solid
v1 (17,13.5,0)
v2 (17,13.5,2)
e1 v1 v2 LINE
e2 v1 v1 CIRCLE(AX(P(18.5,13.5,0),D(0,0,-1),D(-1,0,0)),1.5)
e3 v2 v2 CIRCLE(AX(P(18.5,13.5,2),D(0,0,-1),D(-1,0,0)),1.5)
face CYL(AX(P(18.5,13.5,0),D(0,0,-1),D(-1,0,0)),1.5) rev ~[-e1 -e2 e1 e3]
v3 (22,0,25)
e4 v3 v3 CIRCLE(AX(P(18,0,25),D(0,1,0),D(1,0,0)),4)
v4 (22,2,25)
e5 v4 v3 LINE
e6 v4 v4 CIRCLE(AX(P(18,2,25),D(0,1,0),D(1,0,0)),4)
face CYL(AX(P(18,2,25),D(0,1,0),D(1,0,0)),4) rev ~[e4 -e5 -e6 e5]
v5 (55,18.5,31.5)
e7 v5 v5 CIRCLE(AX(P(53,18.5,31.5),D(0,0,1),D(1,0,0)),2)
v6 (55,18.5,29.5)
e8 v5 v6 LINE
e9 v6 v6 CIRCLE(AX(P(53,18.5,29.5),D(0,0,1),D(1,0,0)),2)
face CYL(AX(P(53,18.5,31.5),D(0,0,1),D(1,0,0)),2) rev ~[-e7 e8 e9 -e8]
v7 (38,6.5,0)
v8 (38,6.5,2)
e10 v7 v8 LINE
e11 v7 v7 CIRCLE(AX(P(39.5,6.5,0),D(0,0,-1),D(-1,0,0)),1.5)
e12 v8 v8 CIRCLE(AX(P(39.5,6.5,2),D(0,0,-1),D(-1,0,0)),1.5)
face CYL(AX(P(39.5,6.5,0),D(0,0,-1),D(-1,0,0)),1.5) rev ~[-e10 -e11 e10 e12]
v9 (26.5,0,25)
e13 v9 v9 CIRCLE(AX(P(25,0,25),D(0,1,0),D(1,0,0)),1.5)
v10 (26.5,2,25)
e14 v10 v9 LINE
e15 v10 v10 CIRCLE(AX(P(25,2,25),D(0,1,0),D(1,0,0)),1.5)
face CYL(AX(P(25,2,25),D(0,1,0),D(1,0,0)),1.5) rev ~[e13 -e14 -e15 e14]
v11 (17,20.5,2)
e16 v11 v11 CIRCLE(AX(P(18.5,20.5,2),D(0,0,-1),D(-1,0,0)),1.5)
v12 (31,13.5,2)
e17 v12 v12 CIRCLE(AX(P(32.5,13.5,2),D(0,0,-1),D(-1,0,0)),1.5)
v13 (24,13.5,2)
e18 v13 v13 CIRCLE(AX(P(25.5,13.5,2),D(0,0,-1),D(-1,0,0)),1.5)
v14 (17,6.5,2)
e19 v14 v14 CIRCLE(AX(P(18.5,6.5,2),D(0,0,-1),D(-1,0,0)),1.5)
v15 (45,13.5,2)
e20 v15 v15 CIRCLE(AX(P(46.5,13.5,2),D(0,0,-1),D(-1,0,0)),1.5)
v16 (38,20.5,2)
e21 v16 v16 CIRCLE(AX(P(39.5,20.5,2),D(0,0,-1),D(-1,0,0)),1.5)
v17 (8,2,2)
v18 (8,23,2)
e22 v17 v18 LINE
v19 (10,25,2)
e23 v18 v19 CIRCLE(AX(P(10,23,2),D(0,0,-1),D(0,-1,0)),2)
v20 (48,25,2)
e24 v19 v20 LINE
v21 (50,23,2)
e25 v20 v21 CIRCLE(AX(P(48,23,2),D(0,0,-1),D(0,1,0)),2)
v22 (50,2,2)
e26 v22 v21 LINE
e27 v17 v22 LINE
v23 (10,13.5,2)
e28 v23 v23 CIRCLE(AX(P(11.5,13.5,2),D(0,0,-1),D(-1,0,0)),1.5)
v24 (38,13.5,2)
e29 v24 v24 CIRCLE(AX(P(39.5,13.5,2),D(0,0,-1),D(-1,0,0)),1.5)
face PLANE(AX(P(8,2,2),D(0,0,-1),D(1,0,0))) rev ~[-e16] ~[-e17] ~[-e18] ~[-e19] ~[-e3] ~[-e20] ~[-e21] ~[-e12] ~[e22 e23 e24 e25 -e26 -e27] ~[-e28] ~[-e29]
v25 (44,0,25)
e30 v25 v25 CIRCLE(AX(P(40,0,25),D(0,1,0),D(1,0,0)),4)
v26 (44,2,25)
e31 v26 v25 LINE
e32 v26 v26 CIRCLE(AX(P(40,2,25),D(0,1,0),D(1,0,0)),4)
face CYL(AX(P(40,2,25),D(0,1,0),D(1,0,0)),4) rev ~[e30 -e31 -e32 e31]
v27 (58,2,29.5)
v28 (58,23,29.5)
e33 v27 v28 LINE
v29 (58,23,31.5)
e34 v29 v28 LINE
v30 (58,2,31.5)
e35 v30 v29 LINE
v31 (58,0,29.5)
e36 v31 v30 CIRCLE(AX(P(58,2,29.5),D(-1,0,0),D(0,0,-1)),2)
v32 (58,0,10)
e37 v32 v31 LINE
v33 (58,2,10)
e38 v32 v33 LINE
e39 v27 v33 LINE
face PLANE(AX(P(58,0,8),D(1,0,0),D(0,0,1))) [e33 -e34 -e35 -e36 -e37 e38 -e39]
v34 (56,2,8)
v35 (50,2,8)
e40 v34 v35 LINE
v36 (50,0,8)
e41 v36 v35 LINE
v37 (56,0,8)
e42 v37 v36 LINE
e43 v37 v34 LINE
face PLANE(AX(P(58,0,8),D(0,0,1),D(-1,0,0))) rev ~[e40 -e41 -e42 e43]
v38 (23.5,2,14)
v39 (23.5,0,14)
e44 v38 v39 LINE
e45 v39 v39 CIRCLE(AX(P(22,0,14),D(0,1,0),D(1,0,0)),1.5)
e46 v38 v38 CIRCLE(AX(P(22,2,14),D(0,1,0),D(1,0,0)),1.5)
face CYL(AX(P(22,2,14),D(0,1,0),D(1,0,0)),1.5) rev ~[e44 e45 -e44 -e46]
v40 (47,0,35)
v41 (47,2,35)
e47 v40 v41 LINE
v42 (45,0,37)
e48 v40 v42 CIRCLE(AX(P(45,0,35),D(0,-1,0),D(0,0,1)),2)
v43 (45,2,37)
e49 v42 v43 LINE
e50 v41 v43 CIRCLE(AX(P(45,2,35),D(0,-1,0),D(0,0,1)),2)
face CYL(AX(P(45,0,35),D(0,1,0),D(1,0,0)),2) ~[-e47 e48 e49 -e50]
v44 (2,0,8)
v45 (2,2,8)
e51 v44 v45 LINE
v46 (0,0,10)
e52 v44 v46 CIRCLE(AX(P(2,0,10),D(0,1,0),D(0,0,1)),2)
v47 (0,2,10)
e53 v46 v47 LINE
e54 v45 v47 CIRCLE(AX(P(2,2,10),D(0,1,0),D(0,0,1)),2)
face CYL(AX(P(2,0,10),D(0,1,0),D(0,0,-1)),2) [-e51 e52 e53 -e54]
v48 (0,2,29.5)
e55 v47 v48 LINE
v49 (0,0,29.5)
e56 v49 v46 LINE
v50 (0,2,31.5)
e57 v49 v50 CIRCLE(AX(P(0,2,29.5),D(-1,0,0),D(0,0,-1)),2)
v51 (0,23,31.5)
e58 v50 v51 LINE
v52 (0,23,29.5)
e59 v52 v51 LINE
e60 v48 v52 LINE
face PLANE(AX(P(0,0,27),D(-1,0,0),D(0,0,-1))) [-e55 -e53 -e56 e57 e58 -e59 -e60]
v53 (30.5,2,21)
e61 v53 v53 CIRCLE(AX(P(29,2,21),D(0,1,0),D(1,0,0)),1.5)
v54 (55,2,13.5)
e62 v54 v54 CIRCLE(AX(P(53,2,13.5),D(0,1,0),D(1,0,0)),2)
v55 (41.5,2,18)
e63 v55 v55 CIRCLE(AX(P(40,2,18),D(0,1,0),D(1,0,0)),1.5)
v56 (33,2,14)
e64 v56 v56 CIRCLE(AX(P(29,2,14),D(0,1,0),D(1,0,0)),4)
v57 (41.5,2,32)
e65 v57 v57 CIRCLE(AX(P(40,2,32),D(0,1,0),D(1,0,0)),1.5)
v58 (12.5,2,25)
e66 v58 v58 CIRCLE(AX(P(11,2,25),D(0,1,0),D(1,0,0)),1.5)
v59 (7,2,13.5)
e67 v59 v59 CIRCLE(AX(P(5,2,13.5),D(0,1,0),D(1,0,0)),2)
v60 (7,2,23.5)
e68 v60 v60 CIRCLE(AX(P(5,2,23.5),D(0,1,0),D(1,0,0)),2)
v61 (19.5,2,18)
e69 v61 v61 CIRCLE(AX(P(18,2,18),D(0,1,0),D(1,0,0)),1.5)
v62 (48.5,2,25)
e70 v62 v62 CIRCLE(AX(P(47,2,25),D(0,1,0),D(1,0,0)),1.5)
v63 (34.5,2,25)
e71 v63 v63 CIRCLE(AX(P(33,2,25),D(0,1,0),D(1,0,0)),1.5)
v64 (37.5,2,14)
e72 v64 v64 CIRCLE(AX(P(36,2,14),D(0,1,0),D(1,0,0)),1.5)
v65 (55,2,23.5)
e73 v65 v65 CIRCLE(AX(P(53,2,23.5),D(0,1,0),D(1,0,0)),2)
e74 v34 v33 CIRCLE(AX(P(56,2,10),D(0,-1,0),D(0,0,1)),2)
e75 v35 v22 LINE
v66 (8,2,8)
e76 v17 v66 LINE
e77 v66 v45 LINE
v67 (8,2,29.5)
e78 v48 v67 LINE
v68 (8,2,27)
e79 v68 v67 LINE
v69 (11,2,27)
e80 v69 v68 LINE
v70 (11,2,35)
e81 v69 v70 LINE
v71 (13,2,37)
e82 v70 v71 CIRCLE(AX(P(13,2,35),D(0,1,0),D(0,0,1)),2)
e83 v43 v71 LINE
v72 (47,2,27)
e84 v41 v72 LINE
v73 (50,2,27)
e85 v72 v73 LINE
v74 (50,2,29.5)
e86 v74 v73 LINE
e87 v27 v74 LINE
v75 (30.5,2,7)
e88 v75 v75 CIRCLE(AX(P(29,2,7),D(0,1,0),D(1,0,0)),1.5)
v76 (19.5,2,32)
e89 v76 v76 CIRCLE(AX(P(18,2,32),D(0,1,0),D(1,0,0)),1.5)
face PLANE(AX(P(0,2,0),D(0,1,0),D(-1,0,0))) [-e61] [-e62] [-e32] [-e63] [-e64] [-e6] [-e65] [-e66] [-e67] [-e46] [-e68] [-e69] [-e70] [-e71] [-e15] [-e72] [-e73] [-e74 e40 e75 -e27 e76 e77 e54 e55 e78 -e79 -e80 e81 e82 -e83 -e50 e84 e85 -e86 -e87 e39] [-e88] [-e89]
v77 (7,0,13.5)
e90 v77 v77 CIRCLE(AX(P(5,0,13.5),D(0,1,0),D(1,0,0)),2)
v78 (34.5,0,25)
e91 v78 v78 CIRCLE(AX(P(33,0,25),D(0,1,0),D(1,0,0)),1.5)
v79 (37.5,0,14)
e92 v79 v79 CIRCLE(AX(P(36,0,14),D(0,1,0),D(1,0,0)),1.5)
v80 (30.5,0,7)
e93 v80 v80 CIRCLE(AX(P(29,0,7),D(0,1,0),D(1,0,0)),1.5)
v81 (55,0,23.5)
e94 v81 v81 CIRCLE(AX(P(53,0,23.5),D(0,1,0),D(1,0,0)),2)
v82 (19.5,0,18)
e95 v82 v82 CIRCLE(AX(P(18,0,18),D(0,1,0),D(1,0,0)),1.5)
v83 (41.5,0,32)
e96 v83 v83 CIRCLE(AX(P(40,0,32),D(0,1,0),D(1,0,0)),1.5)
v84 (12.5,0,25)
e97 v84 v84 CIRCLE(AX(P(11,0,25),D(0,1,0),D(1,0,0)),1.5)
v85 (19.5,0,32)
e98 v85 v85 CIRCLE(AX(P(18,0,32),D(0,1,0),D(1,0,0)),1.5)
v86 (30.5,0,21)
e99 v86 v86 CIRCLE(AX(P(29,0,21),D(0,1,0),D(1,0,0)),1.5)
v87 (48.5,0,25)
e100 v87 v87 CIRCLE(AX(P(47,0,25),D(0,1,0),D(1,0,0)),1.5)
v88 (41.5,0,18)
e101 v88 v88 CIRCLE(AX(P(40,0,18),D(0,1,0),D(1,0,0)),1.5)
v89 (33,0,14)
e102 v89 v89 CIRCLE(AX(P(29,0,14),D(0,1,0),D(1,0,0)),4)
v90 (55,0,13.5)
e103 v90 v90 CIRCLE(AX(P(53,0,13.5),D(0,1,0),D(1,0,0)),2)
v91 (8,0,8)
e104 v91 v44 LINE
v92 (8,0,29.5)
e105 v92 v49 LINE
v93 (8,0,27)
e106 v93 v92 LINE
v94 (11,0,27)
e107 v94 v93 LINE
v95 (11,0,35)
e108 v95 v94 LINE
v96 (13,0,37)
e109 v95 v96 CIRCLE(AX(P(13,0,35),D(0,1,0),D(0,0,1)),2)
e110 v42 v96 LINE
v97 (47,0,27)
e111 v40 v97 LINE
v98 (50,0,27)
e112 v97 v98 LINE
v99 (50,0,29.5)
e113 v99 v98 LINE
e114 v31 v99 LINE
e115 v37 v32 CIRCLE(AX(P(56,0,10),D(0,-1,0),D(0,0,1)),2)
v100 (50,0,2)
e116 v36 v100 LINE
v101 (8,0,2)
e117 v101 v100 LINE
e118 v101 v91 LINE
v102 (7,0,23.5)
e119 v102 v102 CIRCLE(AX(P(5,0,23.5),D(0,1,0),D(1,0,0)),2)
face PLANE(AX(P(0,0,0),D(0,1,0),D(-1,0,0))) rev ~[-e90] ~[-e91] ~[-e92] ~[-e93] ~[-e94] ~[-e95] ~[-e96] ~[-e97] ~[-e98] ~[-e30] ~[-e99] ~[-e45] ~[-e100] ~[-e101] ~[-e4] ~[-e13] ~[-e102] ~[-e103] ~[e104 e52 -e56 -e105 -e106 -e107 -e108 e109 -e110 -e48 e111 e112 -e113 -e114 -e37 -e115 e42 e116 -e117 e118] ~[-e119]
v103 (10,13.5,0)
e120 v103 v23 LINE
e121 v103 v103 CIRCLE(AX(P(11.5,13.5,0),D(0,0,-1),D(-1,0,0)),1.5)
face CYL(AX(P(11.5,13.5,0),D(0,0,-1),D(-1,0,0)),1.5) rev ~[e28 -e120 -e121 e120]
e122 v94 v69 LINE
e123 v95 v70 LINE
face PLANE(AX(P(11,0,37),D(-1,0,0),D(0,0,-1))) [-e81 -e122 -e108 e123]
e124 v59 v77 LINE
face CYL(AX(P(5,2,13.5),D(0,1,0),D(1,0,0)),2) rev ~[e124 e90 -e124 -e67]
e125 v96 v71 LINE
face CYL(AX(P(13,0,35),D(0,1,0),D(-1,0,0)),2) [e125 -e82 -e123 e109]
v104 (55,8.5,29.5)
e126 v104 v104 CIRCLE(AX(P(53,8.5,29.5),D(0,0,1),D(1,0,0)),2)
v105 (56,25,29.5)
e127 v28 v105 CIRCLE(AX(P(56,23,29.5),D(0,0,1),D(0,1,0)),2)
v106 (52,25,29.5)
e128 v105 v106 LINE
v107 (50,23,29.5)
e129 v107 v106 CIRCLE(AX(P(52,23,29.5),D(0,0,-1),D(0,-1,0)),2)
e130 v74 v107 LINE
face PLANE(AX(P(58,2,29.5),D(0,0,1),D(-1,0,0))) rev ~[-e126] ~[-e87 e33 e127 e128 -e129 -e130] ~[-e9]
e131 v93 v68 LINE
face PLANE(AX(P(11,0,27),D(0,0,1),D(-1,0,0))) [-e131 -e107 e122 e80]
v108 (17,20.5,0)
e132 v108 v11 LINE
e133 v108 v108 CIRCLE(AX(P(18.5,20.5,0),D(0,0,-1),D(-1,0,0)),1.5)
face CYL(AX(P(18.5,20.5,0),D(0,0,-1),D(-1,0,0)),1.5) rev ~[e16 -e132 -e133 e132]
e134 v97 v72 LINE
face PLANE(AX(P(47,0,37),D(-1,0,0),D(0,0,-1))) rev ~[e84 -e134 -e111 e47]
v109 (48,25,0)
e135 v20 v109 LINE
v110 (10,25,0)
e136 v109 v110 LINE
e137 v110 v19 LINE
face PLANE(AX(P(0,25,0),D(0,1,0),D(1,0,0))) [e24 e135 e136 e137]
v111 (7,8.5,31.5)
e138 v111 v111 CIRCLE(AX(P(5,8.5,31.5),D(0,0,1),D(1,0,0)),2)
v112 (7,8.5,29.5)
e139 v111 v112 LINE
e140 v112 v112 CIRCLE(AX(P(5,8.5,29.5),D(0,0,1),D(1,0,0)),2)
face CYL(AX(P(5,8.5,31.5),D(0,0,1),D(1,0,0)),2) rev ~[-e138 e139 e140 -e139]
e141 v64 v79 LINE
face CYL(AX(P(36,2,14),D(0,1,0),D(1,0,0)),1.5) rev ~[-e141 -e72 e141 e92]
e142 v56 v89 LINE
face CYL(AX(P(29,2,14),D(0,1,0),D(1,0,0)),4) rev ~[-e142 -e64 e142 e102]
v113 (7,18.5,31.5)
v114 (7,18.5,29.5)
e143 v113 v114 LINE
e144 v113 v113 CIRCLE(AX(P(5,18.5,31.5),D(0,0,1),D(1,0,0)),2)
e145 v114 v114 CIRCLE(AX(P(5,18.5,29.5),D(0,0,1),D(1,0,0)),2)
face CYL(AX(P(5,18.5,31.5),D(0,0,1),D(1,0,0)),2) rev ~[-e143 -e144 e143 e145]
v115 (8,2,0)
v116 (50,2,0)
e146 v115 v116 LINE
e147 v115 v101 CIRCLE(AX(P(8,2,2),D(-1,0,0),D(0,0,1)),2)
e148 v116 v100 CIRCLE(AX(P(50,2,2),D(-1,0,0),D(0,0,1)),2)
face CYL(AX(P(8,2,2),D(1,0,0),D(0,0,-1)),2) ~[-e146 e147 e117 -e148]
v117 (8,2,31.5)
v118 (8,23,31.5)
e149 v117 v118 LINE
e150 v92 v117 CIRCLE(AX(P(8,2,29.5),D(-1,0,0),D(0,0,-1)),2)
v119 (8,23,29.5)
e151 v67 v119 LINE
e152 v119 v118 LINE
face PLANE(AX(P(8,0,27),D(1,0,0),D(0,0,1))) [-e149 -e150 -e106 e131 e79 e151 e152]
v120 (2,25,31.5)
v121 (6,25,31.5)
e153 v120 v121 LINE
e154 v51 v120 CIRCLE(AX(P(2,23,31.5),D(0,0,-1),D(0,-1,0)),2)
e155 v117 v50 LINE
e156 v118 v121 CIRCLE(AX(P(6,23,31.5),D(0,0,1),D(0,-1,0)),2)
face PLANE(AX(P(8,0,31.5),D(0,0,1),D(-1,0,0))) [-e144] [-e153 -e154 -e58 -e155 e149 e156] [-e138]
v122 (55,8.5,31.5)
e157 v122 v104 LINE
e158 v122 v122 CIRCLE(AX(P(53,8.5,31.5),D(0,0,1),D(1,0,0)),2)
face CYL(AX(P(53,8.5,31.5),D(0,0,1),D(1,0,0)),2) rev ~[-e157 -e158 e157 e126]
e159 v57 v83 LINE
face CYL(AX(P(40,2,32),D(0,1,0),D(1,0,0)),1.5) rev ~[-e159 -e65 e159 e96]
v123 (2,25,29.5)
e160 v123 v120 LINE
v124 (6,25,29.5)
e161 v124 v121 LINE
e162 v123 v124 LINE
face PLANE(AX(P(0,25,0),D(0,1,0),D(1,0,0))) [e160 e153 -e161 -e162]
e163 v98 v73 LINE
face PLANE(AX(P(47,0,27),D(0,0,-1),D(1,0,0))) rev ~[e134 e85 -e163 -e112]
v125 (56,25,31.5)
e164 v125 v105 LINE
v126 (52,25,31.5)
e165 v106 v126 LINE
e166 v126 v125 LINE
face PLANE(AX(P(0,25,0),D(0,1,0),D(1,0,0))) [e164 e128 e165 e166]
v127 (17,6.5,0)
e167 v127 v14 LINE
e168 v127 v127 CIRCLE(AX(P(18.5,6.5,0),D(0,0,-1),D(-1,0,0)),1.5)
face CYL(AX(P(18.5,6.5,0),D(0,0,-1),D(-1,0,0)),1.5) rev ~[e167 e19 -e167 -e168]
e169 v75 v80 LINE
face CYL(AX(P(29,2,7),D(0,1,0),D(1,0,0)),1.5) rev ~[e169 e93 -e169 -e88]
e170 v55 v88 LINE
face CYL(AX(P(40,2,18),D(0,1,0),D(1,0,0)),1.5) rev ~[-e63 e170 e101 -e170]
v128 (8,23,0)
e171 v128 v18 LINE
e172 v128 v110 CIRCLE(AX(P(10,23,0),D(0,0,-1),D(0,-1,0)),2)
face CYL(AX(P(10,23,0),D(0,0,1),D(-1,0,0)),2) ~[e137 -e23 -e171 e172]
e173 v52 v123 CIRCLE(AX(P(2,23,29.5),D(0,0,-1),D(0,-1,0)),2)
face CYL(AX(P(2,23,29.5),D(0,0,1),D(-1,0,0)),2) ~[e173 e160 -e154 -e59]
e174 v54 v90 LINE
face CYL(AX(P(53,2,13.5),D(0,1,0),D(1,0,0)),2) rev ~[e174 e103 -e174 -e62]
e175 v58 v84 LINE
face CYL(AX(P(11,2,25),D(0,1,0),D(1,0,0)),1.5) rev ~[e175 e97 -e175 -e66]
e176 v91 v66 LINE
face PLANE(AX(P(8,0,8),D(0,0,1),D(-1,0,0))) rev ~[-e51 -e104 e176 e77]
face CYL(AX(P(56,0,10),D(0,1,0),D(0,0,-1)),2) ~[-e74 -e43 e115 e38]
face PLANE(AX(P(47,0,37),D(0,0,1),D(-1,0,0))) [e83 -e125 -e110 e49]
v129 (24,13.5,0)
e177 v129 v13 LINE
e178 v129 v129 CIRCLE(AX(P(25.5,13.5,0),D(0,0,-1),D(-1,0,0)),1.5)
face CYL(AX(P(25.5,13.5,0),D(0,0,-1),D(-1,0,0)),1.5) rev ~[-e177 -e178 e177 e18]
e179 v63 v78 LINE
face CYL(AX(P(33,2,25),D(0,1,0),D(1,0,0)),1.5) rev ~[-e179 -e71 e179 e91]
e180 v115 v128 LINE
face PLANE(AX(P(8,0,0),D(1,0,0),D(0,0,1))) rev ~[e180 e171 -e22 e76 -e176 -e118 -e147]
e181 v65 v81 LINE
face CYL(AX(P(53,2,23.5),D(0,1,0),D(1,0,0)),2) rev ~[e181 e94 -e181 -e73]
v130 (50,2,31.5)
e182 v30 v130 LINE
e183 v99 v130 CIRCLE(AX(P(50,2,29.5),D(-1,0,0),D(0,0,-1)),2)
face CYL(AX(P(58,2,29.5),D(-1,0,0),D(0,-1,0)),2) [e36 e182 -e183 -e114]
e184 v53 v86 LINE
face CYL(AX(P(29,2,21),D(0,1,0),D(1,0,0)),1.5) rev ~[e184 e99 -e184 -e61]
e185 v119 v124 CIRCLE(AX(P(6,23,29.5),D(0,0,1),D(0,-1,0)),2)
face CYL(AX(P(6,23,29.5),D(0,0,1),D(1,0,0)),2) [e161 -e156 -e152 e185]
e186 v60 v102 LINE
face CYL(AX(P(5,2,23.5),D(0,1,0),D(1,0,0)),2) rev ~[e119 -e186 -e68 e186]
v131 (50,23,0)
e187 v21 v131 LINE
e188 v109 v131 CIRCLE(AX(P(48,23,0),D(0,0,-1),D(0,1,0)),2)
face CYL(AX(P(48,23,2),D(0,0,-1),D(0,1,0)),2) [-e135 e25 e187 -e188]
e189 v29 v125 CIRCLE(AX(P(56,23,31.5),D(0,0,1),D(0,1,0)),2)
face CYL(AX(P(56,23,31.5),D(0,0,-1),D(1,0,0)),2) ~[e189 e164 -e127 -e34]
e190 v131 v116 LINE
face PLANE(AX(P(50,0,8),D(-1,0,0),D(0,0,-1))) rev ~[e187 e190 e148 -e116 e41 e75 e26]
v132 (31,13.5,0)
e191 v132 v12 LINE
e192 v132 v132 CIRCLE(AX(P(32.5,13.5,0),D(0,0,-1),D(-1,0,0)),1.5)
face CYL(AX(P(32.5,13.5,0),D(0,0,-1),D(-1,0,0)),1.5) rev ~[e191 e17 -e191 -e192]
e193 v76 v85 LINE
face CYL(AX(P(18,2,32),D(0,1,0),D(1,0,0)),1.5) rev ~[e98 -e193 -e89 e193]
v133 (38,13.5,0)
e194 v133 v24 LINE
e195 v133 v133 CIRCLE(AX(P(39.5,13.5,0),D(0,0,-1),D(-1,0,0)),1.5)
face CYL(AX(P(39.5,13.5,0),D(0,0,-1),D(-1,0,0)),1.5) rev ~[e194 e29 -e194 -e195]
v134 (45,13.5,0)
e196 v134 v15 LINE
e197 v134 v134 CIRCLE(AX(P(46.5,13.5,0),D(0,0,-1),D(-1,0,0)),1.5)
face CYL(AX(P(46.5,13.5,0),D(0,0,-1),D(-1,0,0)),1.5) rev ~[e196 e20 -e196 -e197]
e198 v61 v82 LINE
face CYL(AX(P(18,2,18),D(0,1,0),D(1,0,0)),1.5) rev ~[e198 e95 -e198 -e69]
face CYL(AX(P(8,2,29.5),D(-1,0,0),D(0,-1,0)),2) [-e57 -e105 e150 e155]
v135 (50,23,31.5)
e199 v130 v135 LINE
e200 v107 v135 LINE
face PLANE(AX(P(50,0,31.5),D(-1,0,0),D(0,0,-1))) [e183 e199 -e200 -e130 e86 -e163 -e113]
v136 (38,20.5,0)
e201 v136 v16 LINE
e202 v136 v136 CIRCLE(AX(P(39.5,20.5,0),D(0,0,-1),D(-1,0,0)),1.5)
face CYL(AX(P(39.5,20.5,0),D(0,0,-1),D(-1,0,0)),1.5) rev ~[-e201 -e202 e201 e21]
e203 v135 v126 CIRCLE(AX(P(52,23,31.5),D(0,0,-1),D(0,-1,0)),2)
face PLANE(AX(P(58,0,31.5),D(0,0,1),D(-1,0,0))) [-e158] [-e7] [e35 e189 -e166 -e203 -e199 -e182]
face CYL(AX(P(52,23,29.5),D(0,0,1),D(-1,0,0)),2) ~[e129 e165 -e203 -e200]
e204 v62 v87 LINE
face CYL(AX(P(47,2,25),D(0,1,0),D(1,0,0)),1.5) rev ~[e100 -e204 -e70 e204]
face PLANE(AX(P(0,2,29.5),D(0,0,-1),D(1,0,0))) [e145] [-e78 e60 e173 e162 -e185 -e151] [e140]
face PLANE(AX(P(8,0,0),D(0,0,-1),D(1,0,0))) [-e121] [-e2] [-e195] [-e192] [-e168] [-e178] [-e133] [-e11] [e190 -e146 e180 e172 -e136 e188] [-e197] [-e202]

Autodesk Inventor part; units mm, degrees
ref_plane "YZ Plane" through (0, 0, 0) normal (1, 0, 0) x (0, 1, 0)
ref_plane "XZ Plane" through (0, 0, 0) normal (0, 1, 0) x (-1, 0, 0)
ref_plane "XY Plane" through (0, 0, 0) normal (0, 0, 1) x (1, 0, 0)
sketch "Эскиз2" plane through (0, 0, 0) normal (0, 1, 0) x (-1, 0, 0)
  line L0 (0, 0) -> (-58, 0)
  line L1 (-58, 0) -> (-58, 37)
  line L2 (-58, 37) -> (0, 37)
  line L3 (0, 37) -> (0, 0)
  line L4 (-58, 8) -> (-50, 8)
  line L5 (-50, 8) -> (-50, 0)
  line L6 (-50, 0) -> (-58, 0)
  line L7 (-58, 0) -> (-58, 8)
  line L8 (-58, 37) -> (-47, 37)
  line L9 (-47, 37) -> (-47, 27)
  line L10 (-47, 27) -> (-58, 27)
  line L11 (-58, 27) -> (-58, 37)
  line L12 (-50, 27) -> (-58, 27)
  line L13 (-58, 27) -> (-58, 31.5)
  line L14 (-58, 31.5) -> (-50, 31.5)
  line L15 (-50, 31.5) -> (-50, 27)
  line L16 (0, 37) -> (-11, 37)
  line L17 (-11, 37) -> (-11, 27)
  line L18 (-11, 27) -> (0, 27)
  line L19 (0, 27) -> (0, 37)
  line L20 (-11, 27) -> (-7.6324, 27)
  line L21 (-11, 31.5) -> (-11, 27)
  line L22 (0, 27) -> (-8, 27)
  line L23 (-8, 27) -> (-8, 31.5)
  line L24 (-8, 31.5) -> (0, 31.5)
  line L25 (0, 31.5) -> (0, 27)
  line L26 (-8, 8) -> (0, 8)
  line L27 (0, 8) -> (0, 0)
  line L28 (0, 0) -> (-8, 0)
  line L29 (-8, 0) -> (-8, 8)
  point P0 (0, 31.5)
  dimension "d0" = 58
  dimension "d1" = 37
  dimension "d2" = 8
  dimension "d3" = 8
  dimension "d4" = 10
  dimension "d5" = 11
  dimension "d6" = 4.5
  dimension "d7" = 10
  dimension "d8" = 11
  dimension "d9" = 8
extrude "Выдавливание1" add sketch "Эскиз2" along normal blind 2 contours L0 L5 L4 L1 L10 L9 L2 L17 L18 L3 L26 L29 | L18 L23 L24 L3 | L1 L14 L15 L10
sketch "Эскиз3" plane through (0, 2, 0) normal (0, 1, 0) x (1, 0, 0)
  line L0 (0, -31.5) -> (8, -31.5) projected
  line L1 (0, -8) -> (0, -31.5) projected
  line L2 (8, -31.5) -> (0, -31.5)
  line L3 (0, -31.5) -> (0, -29.5)
  line L4 (0, -29.5) -> (8, -29.5)
  line L5 (8, -29.5) -> (8, -31.5)
  line L6 (50, -31.5) -> (58, -31.5) projected
  line L7 (58, -31.5) -> (58, -8) projected
  line L8 (50, -31.5) -> (58, -31.5)
  line L9 (58, -31.5) -> (58, -29.5)
  line L10 (58, -29.5) -> (50, -29.5)
  line L11 (50, -29.5) -> (50, -31.5)
  line L12 (50, 0) -> (8, 0) projected
  line L13 (8, 0) -> (8, -8) projected
  line L14 (50, 0) -> (8, 0)
  line L15 (8, 0) -> (8, -2)
  line L16 (8, -2) -> (50, -2)
  line L17 (50, -2) -> (50, 0)
  point P0 (0, 0)
  dimension "d12" = 2
  dimension "d13" = 2
extrude "Выдавливание2" add sketch "Эскиз3" along normal blind 23
sketch "Эскиз4" plane through (50, 0, 31.5) normal (0, 0, 1) x (1, 0, 0)
  line L0 (-42, 2) -> (-50, 2) projected
  line L1 (-42, 0) -> (-42, 25) projected
  line L2 (-42, 2) -> (-42, 25)
  line L3 (0, 0) -> (0, 25) projected
  circle A0 centre (-45, 18.5) radius 2
  circle A1 centre (-45, 8.5) radius 2
  circle A2 centre (3, 18.5) radius 2
  circle A3 centre (3, 8.5) radius 2
  point P0 (-50, 0)
  point P1 (-42, 13.5)
  point P2 (0, 13.5)
  dimension "d16" = 4
  dimension "d17" = 5
  dimension "d18" = 3
  dimension "d19" = 4
  dimension "d20" = 5
  dimension "d21" = 4
  dimension "d22" = 5
  dimension "d23" = 3
  dimension "d24" = 4
extrude "Выдавливание3" cut sketch "Эскиз4" against normal blind 10
sketch "Эскиз6" plane through (50, 0, 0) normal (0, 0, -1) x (-1, 0, 0)
  line L0 (0, 2) -> (0, 25) projected
  line L1 (42, 25) -> (0, 25) projected
  circle A0 centre (24.5, 13.5) radius 1.5
  circle A1 centre (17.5, 13.5) radius 1.5
  circle A2 centre (31.5, 13.5) radius 1.5
  circle A3 centre (38.5, 13.5) radius 1.5
  circle A4 centre (10.5, 13.5) radius 1.5
  circle A5 centre (3.5, 13.5) radius 1.5
  circle A6 centre (10.5, 20.5) radius 1.5
  circle A7 centre (10.5, 6.5) radius 1.5
  circle A8 centre (31.5, 20.5) radius 1.5
  circle A9 centre (31.5, 6.5) radius 1.5
  point P0 (50, 0)
  point P1 (0, 13.5)
  point P2 (21, 25)
  point P3 (21, 13.5)
  dimension "d27" = 3
  dimension "d28" = 3
  dimension "d29" = 3.5
  dimension "d30" = 3.5
  dimension "d31" = 3
  dimension "d32" = 3
  dimension "d33" = 3
  dimension "d34" = 3
  dimension "d35" = 7
  dimension "d36" = 7
  dimension "d37" = 7
  dimension "d38" = 0
  dimension "d39" = 7
  dimension "d40" = 3
  dimension "d41" = 3
  dimension "d42" = 7
  dimension "d43" = 7
  dimension "d44" = 3
  dimension "d45" = 3
extrude "Выдавливание4" cut sketch "Эскиз6" against normal blind 10
sketch "Эскиз7" plane through (0, 2, 0) normal (0, 1, 0) x (1, 0, 0)
  circle A0 centre (5, -13.5) radius 2
  line L0 (8, -2) -> (8, -8) projected
  line L1 (8, -8) -> (0, -8) projected
  circle A1 centre (5, -23.5) radius 2
  circle A2 centre (53, -13.5) radius 2
  line L2 (50, -8) -> (50, -2) projected
  circle A3 centre (53, -23.5) radius 2
  line L3 (8, -2) -> (50, -2) projected
  circle A4 centre (29, -14) radius 4
  line L4 (11, -37) -> (47, -37) projected
  circle A5 centre (40, -25) radius 4
  line L5 (58, -29.5) -> (58, -8) projected
  circle A6 centre (18, -25) radius 4
  line L6 (0, -8) -> (0, -29.5) projected
  circle A7 centre (25, -25) radius 1.5
  circle A8 centre (33, -25) radius 1.5
  circle A9 centre (40, -32) radius 1.5
  circle A10 centre (47, -25) radius 1.5
  circle A11 centre (11, -25) radius 1.5
  circle A12 centre (18, -18) radius 1.5
  circle A13 centre (40, -18) radius 1.5
  circle A14 centre (18, -32) radius 1.5
  circle A15 centre (29, -21) radius 1.5
  circle A16 centre (36, -14) radius 1.5
  circle A17 centre (22, -14) radius 1.5
  circle A18 centre (29, -7) radius 1.5
  point P0 (0, 0)
  point P1 (29, -2)
  dimension "d48" = 4
  dimension "d49" = 3
  dimension "d50" = 5.5
  dimension "d51" = 4
  dimension "d52" = 10
  dimension "d53" = 4
  dimension "d54" = 3
  dimension "d55" = 4
  dimension "d56" = 8
  dimension "d57" = 23
  dimension "d58" = 8
  dimension "d59" = 12
  dimension "d60" = 18
  dimension "d61" = 8
  dimension "d62" = 18
  dimension "d63" = 3
  dimension "d64" = 3
  dimension "d65" = 3
  dimension "d66" = 3
  dimension "d67" = 3
  dimension "d68" = 3
  dimension "d69" = 7
  dimension "d70" = 7
  dimension "d71" = 7
  dimension "d72" = 7
  dimension "d73" = 7
  dimension "d74" = 7
  dimension "d75" = 3
  dimension "d76" = 3
  dimension "d77" = 3
  dimension "d78" = 3
  dimension "d79" = 3
  dimension "d80" = 3
  dimension "d81" = 7
  dimension "d82" = 7
  dimension "d83" = 7
  dimension "d84" = 7
extrude "Выдавливание5" cut sketch "Эскиз7" against normal blind 10
fillet "Сопряжение1" radius 2 13 edges at (58, 25, 30.5) (50, 25, 30.5) (50, 25, 1) (8, 25, 1) (8, 25, 30.5) (0, 25, 30.5) (54, 0, 31.5) (4, 0, 31.5) (29, 0, 0) (58, 1, 8) (0, 1, 8) (11, 1, 37) (47, 1, 37)
properties material "Сталь"
